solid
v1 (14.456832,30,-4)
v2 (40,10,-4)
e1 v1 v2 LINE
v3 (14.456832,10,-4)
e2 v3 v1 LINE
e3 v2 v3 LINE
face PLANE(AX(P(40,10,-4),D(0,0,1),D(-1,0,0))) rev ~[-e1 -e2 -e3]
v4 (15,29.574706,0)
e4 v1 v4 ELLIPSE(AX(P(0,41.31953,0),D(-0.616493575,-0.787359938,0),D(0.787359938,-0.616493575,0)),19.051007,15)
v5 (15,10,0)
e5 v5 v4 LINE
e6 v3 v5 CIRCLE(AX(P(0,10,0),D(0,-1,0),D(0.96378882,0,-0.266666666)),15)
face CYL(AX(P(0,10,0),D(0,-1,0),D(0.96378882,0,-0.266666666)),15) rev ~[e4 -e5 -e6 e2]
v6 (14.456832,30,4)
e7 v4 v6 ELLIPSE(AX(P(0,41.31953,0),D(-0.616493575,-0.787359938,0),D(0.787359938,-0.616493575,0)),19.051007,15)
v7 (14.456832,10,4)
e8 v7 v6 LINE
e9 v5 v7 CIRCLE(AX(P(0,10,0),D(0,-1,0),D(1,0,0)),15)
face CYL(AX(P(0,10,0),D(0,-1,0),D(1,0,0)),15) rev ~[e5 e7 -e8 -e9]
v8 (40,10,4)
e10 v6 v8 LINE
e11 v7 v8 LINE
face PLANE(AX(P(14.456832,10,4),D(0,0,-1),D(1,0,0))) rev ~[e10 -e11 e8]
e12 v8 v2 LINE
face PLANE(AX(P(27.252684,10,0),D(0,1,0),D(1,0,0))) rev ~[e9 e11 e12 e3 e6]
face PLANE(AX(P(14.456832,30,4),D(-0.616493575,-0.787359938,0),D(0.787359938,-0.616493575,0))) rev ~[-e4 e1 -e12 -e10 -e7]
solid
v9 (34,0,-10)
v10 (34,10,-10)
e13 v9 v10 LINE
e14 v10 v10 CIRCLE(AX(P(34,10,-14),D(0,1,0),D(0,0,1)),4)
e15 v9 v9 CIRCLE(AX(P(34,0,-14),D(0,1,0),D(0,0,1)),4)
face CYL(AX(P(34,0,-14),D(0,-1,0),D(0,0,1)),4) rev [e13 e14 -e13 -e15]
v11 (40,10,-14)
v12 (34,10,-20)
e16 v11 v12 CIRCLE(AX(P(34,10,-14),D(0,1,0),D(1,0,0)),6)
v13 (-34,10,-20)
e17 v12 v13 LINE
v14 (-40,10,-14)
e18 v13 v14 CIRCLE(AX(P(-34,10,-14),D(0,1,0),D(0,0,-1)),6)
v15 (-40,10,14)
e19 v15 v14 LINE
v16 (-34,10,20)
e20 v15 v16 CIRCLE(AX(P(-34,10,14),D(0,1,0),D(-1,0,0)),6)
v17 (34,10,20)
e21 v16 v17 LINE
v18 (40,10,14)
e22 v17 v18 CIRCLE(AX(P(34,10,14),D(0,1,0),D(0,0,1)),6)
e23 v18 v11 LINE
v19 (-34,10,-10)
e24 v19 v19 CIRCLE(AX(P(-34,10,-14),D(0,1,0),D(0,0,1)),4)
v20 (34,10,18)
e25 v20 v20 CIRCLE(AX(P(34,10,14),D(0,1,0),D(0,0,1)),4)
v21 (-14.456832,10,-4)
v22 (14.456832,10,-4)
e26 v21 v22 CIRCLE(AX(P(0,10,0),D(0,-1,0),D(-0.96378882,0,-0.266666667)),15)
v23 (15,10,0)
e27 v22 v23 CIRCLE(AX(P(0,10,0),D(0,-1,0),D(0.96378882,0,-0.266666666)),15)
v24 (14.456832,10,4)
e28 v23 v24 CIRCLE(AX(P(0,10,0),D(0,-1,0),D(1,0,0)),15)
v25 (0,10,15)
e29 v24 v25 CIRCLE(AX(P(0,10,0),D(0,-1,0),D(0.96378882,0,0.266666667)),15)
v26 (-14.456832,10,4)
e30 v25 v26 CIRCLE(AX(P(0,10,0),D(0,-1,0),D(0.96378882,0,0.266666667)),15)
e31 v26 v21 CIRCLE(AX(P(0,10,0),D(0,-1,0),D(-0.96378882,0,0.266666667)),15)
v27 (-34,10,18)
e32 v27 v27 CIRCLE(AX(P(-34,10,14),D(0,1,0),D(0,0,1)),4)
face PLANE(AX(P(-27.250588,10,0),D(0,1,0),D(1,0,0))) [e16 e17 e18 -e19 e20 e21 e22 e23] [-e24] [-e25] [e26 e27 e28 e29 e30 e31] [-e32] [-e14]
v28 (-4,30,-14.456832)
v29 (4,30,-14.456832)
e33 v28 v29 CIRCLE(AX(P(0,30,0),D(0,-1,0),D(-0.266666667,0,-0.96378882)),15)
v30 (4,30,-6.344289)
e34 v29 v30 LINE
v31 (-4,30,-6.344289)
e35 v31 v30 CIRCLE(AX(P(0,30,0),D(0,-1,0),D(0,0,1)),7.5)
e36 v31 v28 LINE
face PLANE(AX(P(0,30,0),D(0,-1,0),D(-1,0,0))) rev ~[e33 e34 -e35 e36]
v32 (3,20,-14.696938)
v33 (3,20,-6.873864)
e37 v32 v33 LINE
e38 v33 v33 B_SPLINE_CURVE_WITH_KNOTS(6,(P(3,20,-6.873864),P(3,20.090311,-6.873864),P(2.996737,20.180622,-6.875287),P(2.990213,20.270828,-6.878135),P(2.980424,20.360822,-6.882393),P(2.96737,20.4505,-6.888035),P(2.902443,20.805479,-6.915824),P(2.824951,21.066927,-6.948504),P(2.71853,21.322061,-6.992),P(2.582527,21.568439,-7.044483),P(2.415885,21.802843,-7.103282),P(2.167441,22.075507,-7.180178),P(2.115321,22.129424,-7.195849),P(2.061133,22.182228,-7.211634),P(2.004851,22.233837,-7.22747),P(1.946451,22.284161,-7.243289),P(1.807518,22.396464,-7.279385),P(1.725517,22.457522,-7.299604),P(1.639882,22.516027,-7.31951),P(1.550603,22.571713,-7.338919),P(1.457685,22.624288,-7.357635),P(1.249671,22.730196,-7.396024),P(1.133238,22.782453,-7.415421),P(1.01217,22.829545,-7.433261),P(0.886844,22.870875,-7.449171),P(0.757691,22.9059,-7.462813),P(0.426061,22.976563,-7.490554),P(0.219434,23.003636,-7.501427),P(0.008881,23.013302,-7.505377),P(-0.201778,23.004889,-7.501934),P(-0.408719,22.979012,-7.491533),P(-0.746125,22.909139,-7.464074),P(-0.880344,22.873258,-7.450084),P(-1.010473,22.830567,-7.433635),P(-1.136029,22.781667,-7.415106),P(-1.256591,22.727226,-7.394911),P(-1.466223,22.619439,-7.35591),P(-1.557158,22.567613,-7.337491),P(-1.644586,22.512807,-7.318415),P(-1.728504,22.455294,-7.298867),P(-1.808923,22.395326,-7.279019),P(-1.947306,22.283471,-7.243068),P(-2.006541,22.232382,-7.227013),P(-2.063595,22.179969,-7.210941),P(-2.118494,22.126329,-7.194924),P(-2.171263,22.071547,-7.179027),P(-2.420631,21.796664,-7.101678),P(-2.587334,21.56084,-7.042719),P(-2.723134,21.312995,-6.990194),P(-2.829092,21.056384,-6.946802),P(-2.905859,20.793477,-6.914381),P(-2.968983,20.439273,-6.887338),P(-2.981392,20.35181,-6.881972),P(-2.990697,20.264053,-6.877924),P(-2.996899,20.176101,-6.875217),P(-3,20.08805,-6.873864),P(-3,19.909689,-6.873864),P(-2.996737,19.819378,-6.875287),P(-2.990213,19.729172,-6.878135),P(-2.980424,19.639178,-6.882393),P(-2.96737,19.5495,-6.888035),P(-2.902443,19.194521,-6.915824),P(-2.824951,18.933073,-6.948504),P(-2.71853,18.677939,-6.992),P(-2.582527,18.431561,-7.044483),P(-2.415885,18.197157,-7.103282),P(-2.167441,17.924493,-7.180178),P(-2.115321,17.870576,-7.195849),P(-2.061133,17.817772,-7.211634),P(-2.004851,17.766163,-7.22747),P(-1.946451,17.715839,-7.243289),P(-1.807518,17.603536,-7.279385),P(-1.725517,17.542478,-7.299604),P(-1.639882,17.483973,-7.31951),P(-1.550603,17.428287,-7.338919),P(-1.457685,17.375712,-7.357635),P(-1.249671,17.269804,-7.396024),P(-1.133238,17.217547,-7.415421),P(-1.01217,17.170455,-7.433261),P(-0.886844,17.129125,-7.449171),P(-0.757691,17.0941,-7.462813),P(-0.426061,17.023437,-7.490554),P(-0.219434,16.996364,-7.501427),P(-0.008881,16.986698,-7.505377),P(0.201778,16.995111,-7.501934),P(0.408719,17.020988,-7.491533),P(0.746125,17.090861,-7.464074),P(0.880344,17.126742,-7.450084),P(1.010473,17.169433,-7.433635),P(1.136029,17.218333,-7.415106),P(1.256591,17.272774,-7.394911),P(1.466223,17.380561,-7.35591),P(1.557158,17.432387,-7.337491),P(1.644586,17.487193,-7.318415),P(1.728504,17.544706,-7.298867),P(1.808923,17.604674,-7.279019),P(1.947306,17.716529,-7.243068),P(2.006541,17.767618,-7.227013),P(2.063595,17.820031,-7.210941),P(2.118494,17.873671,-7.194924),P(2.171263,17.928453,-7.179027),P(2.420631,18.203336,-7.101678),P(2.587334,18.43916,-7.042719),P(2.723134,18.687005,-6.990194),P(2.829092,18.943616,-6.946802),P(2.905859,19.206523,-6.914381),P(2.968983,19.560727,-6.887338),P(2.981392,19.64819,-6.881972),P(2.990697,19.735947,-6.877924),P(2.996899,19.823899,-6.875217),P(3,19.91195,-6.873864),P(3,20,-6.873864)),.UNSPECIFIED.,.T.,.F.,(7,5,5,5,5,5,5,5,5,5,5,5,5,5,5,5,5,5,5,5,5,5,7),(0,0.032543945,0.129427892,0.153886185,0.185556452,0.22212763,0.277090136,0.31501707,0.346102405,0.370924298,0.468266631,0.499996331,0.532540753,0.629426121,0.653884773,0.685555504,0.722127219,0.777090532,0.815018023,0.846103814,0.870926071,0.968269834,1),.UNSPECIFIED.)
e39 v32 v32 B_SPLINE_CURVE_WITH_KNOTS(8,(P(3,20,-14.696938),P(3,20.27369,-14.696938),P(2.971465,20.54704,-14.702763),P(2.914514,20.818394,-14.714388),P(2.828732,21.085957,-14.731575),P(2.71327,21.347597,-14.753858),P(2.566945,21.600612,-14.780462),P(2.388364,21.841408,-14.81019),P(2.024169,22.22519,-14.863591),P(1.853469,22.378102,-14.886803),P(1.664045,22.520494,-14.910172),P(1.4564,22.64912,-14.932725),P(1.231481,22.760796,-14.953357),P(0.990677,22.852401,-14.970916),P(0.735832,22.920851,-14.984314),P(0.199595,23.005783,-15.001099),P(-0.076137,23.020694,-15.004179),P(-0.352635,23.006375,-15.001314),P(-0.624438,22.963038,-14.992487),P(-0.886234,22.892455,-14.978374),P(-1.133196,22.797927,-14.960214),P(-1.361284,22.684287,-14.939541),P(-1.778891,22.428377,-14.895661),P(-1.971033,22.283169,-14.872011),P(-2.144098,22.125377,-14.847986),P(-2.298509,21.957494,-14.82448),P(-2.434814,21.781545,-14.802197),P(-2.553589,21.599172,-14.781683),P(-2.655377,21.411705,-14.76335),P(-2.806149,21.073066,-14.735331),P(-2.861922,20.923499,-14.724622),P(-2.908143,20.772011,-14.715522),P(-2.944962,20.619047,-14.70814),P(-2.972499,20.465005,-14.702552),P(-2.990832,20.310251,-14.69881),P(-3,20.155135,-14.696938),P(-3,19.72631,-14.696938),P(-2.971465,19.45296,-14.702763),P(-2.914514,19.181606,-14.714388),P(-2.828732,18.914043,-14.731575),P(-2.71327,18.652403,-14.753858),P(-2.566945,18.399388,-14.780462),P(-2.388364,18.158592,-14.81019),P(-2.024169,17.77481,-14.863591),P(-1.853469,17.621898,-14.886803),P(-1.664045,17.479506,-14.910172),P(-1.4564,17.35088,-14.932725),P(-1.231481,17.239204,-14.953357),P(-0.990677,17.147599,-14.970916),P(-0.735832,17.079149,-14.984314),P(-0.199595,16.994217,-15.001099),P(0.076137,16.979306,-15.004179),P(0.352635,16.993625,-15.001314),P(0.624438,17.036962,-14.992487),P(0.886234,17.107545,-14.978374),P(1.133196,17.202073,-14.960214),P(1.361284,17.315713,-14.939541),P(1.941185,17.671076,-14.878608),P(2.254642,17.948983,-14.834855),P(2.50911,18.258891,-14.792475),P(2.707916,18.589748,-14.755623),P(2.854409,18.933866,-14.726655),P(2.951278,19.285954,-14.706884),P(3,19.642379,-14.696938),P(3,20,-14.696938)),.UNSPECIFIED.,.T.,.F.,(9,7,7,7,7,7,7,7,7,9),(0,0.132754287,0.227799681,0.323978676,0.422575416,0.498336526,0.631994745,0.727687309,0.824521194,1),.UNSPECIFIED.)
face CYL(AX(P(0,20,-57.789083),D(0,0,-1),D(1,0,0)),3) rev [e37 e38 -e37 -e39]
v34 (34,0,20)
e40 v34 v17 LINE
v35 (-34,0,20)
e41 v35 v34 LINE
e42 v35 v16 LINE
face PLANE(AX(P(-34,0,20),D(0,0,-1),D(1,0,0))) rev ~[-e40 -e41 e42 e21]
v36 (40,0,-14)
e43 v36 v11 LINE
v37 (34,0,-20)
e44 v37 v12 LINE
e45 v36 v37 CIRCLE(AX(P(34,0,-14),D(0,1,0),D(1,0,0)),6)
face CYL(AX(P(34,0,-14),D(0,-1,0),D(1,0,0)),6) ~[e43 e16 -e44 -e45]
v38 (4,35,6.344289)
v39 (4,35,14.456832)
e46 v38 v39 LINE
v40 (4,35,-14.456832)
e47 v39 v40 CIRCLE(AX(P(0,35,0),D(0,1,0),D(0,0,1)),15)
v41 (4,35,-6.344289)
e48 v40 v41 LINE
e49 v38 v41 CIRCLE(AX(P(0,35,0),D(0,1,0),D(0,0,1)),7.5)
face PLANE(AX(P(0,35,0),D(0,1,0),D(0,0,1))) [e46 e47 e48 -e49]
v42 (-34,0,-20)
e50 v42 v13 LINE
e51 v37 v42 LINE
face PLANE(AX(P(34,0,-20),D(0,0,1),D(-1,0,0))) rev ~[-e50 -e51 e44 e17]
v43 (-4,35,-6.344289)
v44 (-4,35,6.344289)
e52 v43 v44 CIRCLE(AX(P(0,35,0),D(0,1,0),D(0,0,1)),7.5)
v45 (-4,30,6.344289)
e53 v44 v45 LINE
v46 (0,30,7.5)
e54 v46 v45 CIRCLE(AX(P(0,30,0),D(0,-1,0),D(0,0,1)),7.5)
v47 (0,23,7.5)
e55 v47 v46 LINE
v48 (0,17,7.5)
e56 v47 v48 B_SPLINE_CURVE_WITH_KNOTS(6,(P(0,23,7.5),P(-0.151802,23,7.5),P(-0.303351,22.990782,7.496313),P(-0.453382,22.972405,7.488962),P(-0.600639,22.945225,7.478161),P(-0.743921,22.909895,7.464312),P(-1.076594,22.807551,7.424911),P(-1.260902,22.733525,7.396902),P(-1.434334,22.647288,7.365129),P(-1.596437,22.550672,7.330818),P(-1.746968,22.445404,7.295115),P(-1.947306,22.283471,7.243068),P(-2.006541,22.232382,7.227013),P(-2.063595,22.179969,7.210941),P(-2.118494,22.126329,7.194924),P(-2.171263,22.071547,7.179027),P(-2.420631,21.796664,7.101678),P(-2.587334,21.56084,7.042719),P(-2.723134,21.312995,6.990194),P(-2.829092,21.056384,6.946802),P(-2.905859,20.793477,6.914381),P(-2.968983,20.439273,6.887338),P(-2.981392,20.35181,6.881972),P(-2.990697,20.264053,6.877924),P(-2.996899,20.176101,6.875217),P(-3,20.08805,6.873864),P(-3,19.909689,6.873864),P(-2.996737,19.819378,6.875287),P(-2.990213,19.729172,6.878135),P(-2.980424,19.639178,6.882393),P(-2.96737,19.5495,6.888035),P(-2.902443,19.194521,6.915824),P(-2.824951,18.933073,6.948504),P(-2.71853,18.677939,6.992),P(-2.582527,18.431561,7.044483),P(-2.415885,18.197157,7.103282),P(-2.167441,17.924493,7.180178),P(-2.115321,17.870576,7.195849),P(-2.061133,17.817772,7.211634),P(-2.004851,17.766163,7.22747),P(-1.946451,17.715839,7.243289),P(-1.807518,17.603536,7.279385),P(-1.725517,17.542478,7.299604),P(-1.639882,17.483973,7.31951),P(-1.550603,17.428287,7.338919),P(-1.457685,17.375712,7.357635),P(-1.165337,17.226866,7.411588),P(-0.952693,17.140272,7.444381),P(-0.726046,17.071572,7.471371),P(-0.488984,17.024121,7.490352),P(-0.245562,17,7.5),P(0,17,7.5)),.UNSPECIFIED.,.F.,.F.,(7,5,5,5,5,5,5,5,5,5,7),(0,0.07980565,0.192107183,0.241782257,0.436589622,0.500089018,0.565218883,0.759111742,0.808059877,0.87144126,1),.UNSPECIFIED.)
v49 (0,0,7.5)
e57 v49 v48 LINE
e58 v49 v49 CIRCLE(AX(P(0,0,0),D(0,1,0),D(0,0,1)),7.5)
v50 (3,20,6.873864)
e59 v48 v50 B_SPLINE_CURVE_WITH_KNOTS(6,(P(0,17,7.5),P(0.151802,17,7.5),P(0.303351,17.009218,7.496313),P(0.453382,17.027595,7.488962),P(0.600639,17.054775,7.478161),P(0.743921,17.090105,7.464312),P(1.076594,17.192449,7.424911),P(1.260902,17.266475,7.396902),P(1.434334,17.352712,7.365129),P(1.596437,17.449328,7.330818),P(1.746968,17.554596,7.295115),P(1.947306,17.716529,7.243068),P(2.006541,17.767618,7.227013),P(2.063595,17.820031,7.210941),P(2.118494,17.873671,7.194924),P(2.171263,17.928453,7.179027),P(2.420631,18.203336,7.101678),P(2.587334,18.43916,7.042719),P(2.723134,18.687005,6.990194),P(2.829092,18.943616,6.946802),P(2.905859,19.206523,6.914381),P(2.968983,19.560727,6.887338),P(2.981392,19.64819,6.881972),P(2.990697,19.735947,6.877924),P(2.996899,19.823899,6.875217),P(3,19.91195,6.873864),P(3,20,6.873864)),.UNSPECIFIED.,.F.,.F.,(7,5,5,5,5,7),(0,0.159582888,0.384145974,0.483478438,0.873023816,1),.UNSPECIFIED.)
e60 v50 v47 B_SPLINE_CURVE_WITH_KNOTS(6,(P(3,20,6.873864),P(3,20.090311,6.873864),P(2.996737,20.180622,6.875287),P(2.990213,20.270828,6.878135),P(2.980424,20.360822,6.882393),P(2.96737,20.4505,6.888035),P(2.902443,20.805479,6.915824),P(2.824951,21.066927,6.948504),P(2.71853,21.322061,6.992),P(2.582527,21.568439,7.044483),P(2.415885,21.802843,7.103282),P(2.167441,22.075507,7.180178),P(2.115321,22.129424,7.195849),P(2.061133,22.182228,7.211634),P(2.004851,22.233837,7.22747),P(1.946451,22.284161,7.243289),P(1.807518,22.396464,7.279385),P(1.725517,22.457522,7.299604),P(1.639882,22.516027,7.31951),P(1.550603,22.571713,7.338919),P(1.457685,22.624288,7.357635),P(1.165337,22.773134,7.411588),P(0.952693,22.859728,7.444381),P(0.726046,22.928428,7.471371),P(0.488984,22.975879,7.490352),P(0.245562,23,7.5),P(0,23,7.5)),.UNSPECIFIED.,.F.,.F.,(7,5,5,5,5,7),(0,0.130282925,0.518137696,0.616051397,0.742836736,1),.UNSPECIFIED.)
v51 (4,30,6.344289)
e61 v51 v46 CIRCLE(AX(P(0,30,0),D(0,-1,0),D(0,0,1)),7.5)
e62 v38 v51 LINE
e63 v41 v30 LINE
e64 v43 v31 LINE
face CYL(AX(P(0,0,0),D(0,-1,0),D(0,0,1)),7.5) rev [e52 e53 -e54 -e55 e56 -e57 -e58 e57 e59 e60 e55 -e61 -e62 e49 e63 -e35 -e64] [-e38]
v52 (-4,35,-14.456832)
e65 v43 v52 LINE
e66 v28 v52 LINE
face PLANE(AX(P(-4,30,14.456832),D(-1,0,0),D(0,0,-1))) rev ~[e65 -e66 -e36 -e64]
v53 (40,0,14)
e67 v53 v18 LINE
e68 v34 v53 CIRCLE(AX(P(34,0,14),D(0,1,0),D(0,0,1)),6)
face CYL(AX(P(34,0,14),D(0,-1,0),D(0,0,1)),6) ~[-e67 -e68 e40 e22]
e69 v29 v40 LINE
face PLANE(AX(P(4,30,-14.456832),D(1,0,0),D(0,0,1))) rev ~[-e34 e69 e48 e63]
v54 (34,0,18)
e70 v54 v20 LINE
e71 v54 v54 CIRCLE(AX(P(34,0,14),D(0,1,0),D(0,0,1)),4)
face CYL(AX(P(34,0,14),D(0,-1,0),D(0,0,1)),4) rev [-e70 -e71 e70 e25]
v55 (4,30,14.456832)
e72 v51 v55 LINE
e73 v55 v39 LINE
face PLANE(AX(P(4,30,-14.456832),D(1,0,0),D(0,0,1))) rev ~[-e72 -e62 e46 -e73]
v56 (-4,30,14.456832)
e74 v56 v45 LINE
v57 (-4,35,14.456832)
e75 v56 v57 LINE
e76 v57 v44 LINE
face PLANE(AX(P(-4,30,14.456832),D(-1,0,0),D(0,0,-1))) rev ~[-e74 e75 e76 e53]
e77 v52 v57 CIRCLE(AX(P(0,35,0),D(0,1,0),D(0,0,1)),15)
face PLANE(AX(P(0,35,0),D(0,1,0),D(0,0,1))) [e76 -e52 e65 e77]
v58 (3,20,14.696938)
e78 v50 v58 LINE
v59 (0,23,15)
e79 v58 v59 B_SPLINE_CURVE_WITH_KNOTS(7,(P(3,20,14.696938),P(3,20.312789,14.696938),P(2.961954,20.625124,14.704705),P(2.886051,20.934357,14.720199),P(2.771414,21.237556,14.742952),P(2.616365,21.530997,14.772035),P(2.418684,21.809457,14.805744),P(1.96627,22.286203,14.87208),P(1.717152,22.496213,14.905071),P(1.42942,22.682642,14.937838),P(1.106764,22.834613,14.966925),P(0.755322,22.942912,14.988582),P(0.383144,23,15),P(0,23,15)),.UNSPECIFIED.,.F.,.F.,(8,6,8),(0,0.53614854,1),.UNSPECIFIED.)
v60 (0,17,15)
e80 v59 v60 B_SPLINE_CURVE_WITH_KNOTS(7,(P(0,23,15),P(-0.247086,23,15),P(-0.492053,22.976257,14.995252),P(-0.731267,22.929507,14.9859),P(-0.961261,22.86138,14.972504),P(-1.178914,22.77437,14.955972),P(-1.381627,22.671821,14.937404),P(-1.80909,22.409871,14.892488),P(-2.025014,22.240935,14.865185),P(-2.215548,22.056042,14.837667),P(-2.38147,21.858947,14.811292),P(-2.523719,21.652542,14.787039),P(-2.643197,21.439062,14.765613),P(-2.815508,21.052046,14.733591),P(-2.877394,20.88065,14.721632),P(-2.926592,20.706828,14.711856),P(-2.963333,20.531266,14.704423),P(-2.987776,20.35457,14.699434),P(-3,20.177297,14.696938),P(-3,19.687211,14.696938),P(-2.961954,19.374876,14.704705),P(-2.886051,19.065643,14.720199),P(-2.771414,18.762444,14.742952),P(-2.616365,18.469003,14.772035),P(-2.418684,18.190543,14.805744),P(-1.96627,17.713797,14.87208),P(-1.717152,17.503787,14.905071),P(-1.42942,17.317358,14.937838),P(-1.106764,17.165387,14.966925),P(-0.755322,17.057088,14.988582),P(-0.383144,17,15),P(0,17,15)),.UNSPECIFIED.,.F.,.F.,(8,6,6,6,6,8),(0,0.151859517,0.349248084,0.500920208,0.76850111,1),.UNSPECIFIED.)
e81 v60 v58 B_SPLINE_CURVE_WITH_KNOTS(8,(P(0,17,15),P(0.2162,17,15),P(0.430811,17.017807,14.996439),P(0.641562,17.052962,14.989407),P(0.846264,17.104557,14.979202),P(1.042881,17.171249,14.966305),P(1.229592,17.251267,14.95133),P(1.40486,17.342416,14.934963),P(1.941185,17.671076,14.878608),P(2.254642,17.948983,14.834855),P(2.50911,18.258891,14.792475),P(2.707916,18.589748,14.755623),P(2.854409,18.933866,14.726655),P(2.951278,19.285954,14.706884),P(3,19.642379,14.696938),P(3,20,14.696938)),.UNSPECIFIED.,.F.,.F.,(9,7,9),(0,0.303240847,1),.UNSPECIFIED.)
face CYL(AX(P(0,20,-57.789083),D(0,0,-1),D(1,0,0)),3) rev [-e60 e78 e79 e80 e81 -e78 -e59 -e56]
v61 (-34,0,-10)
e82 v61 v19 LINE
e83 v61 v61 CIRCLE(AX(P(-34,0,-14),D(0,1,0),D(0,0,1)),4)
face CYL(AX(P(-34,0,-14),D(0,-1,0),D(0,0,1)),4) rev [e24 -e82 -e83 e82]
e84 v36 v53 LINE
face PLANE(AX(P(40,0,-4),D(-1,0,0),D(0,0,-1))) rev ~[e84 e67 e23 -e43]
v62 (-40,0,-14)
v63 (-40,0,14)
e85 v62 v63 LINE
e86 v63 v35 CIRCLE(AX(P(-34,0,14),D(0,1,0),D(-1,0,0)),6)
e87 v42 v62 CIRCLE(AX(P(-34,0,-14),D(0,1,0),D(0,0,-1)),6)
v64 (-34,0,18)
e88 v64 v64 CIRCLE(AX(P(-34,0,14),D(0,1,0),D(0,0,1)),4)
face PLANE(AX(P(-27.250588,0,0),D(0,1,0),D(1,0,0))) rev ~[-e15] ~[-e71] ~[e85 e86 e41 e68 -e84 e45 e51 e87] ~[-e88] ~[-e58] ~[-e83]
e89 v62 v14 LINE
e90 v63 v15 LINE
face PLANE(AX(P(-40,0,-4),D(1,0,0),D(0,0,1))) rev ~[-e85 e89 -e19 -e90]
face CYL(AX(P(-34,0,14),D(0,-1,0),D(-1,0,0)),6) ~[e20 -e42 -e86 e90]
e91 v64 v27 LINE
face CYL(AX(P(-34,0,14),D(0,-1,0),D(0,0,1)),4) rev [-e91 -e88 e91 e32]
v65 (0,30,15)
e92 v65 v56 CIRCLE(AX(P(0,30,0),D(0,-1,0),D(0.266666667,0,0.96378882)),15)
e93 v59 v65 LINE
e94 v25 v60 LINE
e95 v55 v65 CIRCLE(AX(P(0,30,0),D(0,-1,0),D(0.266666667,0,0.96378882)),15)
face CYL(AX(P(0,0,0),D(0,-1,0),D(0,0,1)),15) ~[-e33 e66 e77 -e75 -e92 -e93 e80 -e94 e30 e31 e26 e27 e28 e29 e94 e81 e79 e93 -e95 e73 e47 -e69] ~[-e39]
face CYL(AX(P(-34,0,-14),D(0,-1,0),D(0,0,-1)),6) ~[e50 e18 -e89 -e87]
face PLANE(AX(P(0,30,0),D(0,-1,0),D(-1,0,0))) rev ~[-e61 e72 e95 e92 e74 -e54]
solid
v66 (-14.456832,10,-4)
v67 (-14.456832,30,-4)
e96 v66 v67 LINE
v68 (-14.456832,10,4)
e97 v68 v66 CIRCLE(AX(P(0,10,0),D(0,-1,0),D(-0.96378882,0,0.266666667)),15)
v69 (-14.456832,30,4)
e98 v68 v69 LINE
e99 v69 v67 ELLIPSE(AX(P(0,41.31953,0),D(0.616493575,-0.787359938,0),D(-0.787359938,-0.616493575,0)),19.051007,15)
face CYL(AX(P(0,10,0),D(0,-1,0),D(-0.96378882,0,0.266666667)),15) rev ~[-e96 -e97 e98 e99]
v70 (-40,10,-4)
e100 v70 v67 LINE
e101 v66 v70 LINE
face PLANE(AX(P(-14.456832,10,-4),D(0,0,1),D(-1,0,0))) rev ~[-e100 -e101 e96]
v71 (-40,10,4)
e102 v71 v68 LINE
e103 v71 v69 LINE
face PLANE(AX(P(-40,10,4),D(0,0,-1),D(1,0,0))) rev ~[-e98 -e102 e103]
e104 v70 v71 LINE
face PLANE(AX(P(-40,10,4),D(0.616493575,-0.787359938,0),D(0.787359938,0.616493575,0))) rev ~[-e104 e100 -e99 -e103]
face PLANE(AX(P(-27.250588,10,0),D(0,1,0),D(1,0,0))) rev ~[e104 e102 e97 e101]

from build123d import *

# Parameters (mm, degrees)
SKETCH_2_R               = 4
EXTRUDE_1_DEPTH          = 10
SKETCH_2_3_R             = 15
SKETCH_2_3_R_2           = 7.5
EXTRUDE_2_DEPTH          = 35
EXTRUDE_START            = 10
EXTRUDE_3_DEPTH          = 20
EXTRUDE_3_2_DEPTH        = 20
CUT_EXTRUDE_1_DEPTH      = 59.318093247
CUT_EXTRUDE_START        = -5
CUT_EXTRUDE_2_DEPTH      = 5
CUT_EXTRUDE_3_DEPTH      = 57.789083458
CUT_EXTRUDE_3_DEPTH_BACK = 57.789083458
SKETCH_6_R               = 3


with BuildPart() as part:
    # 草图2 → 凸台-拉伸1 (new body)
    # profile 1 of 4: a face of its own
    with BuildSketch(Plane(origin=(0, 0, 0), x_dir=(1, 0, 0), z_dir=(0, 1, 0))):
        with BuildLine():
            Line((14.456832295, 4), (40, 4))
            Line((40, 4), (40, 14))
            ThreePointArc((40, 14), (38.242640687, 18.242640687), (34, 20))
            Line((34, 20), (-34, 20))
            ThreePointArc((-34, 20), (-38.242640687, 18.242640687), (-40, 14))
            Line((-40, 14), (-40, 4))
            Line((-40, 4), (-14.456832295, 4))
            ThreePointArc((-14.456832295, 4), (0, 15), (14.456832295, 4))
        make_face()
        with Locations(Location((-34, 14, 0), (0, 0, 270))):
            Circle(SKETCH_2_R, mode=Mode.SUBTRACT)
        with Locations(Location((34, 14, 0), (0, 0, 270))):
            Circle(SKETCH_2_R, mode=Mode.SUBTRACT)
    # profile 2 of 4: a face of its own
    with BuildSketch(Plane(origin=(0, 0, 0), x_dir=(1, 0, 0), z_dir=(0, 1, 0))):
        with BuildLine():
            Line((14.456832295, -4), (40, -4))
            Line((40, -4), (40, 4))
            Line((40, 4), (14.456832295, 4))
            ThreePointArc((14.456832295, 4), (14.863587797, 2.018355219), (15, 0))
            ThreePointArc((15, 0), (14.863587797, -2.018355219), (14.456832295, -4))
        make_face()
    # profile 3 of 4: a face of its own
    with BuildSketch(Plane(origin=(0, 0, 0), x_dir=(1, 0, 0), z_dir=(0, 1, 0))):
        with BuildLine():
            Line((-34, -20), (34, -20))
            ThreePointArc((34, -20), (38.242640687, -18.242640687), (40, -14))
            Line((40, -14), (40, -4))
            Line((40, -4), (14.456832295, -4))
            ThreePointArc((14.456832295, -4), (0, -15), (-14.456832295, -4))
            Line((-14.456832295, -4), (-40, -4))
            Line((-40, -4), (-40, -14))
            ThreePointArc((-40, -14), (-38.242640687, -18.242640687), (-34, -20))
        make_face()
        with Locations(Location((-34, -14, 0), (0, 0, 270))):
            Circle(SKETCH_2_R, mode=Mode.SUBTRACT)
        with Locations(Location((34, -14, 0), (0, 0, 270))):
            Circle(SKETCH_2_R, mode=Mode.SUBTRACT)
    # profile 4 of 4: a face of its own
    with BuildSketch(Plane(origin=(0, 0, 0), x_dir=(1, 0, 0), z_dir=(0, 1, 0))):
        with BuildLine():
            Line((-40, 4), (-40, -4))
            Line((-40, -4), (-14.456832295, -4))
            ThreePointArc((-14.456832295, -4), (-15, 0), (-14.456832295, 4))
            Line((-14.456832295, 4), (-40, 4))
        make_face()
    extrude(amount=EXTRUDE_1_DEPTH)

    # 草图2<3> → 凸台-拉伸2 (add)
    with BuildSketch(Plane(origin=(0, 0, 0), x_dir=(1, 0, 0), z_dir=(0, 1, 0))):
        with Locations(Location((0, 0, 0), (0, 0, 270))):
            Circle(SKETCH_2_3_R)
        with Locations(Location((0, 0, 0), (0, 0, 270))):
            Circle(SKETCH_2_3_R_2, mode=Mode.SUBTRACT)
    extrude(amount=EXTRUDE_2_DEPTH)

    # 草图5 → 切除-拉伸2 (cut)
    with BuildSketch(Plane(origin=(0, 35, 0), x_dir=(1, 0, 0), z_dir=(0, 1, 0)).offset(CUT_EXTRUDE_START)):
        with BuildLine():
            Line((-4, -14.456832295), (-4, 14.456832295))
            ThreePointArc((-4, 14.456832295), (0, 15), (4, 14.456832295))
            Line((4, 14.456832295), (4, -14.456832295))
            ThreePointArc((4, -14.456832295), (0, -15), (-4, -14.456832295))
        make_face()
    extrude(amount=CUT_EXTRUDE_2_DEPTH, mode=Mode.SUBTRACT)

    # 草图6 → 切除-拉伸3 (cut, two sides: drawn at the far end of the back side and taken through both)
    with BuildSketch(Plane.XY.offset(-CUT_EXTRUDE_3_DEPTH_BACK)):
        with Locations((0, 20)):
            Circle(SKETCH_6_R)
    extrude(amount=CUT_EXTRUDE_3_DEPTH + CUT_EXTRUDE_3_DEPTH_BACK, mode=Mode.SUBTRACT)


with BuildPart() as body_2:
    # 草图2<4> → 凸台-拉伸3 (new body)
    with BuildSketch(Plane(origin=(0, 0, 0), x_dir=(1, 0, 0), z_dir=(0, 1, 0)).offset(EXTRUDE_START)):
        with BuildLine():
            Line((-40, 4), (-40, -4))
            Line((-40, -4), (-14.456832295, -4))
            ThreePointArc((-14.456832295, -4), (-15, 0), (-14.456832295, 4))
            Line((-14.456832295, 4), (-40, 4))
        make_face()
    extrude(amount=EXTRUDE_3_DEPTH)


with BuildPart() as body_3:
    # 草图2<4> → Extrude 3 2 (new body)
    with BuildSketch(Plane(origin=(0, 0, 0), x_dir=(1, 0, 0), z_dir=(0, 1, 0)).offset(EXTRUDE_START)):
        with BuildLine():
            Line((14.456832295, -4), (40, -4))
            Line((40, -4), (40, 4))
            Line((40, 4), (14.456832295, 4))
            ThreePointArc((14.456832295, 4), (14.863587797, 2.018355219), (15, 0))
            ThreePointArc((15, 0), (14.863587797, -2.018355219), (14.456832295, -4))
        make_face()
    extrude(amount=EXTRUDE_3_2_DEPTH)


with BuildPart() as cut_extrude_1_tool:
    # 草图4 → 切除-拉伸1 (new, through all)
    with BuildSketch(Plane.XY.offset(4)):
        Polygon((-40, 10), (-14.456832295, 30), (-40, 30), align=None)
        Polygon((14.456832295, 30), (40, 10), (40, 30), align=None)
    extrude(amount=-CUT_EXTRUDE_1_DEPTH)


with BuildPart() as body_2_1:
    add(body_2.part)

    # 切除-拉伸1: cut by cut_extrude_1_tool
    add(cut_extrude_1_tool.part, mode=Mode.SUBTRACT)


with BuildPart() as body_3_1:
    add(body_3.part)

    # 切除-拉伸1: cut by cut_extrude_1_tool
    add(cut_extrude_1_tool.part, mode=Mode.SUBTRACT)


solid = Compound([part.part, body_2_1.part, body_3_1.part])
